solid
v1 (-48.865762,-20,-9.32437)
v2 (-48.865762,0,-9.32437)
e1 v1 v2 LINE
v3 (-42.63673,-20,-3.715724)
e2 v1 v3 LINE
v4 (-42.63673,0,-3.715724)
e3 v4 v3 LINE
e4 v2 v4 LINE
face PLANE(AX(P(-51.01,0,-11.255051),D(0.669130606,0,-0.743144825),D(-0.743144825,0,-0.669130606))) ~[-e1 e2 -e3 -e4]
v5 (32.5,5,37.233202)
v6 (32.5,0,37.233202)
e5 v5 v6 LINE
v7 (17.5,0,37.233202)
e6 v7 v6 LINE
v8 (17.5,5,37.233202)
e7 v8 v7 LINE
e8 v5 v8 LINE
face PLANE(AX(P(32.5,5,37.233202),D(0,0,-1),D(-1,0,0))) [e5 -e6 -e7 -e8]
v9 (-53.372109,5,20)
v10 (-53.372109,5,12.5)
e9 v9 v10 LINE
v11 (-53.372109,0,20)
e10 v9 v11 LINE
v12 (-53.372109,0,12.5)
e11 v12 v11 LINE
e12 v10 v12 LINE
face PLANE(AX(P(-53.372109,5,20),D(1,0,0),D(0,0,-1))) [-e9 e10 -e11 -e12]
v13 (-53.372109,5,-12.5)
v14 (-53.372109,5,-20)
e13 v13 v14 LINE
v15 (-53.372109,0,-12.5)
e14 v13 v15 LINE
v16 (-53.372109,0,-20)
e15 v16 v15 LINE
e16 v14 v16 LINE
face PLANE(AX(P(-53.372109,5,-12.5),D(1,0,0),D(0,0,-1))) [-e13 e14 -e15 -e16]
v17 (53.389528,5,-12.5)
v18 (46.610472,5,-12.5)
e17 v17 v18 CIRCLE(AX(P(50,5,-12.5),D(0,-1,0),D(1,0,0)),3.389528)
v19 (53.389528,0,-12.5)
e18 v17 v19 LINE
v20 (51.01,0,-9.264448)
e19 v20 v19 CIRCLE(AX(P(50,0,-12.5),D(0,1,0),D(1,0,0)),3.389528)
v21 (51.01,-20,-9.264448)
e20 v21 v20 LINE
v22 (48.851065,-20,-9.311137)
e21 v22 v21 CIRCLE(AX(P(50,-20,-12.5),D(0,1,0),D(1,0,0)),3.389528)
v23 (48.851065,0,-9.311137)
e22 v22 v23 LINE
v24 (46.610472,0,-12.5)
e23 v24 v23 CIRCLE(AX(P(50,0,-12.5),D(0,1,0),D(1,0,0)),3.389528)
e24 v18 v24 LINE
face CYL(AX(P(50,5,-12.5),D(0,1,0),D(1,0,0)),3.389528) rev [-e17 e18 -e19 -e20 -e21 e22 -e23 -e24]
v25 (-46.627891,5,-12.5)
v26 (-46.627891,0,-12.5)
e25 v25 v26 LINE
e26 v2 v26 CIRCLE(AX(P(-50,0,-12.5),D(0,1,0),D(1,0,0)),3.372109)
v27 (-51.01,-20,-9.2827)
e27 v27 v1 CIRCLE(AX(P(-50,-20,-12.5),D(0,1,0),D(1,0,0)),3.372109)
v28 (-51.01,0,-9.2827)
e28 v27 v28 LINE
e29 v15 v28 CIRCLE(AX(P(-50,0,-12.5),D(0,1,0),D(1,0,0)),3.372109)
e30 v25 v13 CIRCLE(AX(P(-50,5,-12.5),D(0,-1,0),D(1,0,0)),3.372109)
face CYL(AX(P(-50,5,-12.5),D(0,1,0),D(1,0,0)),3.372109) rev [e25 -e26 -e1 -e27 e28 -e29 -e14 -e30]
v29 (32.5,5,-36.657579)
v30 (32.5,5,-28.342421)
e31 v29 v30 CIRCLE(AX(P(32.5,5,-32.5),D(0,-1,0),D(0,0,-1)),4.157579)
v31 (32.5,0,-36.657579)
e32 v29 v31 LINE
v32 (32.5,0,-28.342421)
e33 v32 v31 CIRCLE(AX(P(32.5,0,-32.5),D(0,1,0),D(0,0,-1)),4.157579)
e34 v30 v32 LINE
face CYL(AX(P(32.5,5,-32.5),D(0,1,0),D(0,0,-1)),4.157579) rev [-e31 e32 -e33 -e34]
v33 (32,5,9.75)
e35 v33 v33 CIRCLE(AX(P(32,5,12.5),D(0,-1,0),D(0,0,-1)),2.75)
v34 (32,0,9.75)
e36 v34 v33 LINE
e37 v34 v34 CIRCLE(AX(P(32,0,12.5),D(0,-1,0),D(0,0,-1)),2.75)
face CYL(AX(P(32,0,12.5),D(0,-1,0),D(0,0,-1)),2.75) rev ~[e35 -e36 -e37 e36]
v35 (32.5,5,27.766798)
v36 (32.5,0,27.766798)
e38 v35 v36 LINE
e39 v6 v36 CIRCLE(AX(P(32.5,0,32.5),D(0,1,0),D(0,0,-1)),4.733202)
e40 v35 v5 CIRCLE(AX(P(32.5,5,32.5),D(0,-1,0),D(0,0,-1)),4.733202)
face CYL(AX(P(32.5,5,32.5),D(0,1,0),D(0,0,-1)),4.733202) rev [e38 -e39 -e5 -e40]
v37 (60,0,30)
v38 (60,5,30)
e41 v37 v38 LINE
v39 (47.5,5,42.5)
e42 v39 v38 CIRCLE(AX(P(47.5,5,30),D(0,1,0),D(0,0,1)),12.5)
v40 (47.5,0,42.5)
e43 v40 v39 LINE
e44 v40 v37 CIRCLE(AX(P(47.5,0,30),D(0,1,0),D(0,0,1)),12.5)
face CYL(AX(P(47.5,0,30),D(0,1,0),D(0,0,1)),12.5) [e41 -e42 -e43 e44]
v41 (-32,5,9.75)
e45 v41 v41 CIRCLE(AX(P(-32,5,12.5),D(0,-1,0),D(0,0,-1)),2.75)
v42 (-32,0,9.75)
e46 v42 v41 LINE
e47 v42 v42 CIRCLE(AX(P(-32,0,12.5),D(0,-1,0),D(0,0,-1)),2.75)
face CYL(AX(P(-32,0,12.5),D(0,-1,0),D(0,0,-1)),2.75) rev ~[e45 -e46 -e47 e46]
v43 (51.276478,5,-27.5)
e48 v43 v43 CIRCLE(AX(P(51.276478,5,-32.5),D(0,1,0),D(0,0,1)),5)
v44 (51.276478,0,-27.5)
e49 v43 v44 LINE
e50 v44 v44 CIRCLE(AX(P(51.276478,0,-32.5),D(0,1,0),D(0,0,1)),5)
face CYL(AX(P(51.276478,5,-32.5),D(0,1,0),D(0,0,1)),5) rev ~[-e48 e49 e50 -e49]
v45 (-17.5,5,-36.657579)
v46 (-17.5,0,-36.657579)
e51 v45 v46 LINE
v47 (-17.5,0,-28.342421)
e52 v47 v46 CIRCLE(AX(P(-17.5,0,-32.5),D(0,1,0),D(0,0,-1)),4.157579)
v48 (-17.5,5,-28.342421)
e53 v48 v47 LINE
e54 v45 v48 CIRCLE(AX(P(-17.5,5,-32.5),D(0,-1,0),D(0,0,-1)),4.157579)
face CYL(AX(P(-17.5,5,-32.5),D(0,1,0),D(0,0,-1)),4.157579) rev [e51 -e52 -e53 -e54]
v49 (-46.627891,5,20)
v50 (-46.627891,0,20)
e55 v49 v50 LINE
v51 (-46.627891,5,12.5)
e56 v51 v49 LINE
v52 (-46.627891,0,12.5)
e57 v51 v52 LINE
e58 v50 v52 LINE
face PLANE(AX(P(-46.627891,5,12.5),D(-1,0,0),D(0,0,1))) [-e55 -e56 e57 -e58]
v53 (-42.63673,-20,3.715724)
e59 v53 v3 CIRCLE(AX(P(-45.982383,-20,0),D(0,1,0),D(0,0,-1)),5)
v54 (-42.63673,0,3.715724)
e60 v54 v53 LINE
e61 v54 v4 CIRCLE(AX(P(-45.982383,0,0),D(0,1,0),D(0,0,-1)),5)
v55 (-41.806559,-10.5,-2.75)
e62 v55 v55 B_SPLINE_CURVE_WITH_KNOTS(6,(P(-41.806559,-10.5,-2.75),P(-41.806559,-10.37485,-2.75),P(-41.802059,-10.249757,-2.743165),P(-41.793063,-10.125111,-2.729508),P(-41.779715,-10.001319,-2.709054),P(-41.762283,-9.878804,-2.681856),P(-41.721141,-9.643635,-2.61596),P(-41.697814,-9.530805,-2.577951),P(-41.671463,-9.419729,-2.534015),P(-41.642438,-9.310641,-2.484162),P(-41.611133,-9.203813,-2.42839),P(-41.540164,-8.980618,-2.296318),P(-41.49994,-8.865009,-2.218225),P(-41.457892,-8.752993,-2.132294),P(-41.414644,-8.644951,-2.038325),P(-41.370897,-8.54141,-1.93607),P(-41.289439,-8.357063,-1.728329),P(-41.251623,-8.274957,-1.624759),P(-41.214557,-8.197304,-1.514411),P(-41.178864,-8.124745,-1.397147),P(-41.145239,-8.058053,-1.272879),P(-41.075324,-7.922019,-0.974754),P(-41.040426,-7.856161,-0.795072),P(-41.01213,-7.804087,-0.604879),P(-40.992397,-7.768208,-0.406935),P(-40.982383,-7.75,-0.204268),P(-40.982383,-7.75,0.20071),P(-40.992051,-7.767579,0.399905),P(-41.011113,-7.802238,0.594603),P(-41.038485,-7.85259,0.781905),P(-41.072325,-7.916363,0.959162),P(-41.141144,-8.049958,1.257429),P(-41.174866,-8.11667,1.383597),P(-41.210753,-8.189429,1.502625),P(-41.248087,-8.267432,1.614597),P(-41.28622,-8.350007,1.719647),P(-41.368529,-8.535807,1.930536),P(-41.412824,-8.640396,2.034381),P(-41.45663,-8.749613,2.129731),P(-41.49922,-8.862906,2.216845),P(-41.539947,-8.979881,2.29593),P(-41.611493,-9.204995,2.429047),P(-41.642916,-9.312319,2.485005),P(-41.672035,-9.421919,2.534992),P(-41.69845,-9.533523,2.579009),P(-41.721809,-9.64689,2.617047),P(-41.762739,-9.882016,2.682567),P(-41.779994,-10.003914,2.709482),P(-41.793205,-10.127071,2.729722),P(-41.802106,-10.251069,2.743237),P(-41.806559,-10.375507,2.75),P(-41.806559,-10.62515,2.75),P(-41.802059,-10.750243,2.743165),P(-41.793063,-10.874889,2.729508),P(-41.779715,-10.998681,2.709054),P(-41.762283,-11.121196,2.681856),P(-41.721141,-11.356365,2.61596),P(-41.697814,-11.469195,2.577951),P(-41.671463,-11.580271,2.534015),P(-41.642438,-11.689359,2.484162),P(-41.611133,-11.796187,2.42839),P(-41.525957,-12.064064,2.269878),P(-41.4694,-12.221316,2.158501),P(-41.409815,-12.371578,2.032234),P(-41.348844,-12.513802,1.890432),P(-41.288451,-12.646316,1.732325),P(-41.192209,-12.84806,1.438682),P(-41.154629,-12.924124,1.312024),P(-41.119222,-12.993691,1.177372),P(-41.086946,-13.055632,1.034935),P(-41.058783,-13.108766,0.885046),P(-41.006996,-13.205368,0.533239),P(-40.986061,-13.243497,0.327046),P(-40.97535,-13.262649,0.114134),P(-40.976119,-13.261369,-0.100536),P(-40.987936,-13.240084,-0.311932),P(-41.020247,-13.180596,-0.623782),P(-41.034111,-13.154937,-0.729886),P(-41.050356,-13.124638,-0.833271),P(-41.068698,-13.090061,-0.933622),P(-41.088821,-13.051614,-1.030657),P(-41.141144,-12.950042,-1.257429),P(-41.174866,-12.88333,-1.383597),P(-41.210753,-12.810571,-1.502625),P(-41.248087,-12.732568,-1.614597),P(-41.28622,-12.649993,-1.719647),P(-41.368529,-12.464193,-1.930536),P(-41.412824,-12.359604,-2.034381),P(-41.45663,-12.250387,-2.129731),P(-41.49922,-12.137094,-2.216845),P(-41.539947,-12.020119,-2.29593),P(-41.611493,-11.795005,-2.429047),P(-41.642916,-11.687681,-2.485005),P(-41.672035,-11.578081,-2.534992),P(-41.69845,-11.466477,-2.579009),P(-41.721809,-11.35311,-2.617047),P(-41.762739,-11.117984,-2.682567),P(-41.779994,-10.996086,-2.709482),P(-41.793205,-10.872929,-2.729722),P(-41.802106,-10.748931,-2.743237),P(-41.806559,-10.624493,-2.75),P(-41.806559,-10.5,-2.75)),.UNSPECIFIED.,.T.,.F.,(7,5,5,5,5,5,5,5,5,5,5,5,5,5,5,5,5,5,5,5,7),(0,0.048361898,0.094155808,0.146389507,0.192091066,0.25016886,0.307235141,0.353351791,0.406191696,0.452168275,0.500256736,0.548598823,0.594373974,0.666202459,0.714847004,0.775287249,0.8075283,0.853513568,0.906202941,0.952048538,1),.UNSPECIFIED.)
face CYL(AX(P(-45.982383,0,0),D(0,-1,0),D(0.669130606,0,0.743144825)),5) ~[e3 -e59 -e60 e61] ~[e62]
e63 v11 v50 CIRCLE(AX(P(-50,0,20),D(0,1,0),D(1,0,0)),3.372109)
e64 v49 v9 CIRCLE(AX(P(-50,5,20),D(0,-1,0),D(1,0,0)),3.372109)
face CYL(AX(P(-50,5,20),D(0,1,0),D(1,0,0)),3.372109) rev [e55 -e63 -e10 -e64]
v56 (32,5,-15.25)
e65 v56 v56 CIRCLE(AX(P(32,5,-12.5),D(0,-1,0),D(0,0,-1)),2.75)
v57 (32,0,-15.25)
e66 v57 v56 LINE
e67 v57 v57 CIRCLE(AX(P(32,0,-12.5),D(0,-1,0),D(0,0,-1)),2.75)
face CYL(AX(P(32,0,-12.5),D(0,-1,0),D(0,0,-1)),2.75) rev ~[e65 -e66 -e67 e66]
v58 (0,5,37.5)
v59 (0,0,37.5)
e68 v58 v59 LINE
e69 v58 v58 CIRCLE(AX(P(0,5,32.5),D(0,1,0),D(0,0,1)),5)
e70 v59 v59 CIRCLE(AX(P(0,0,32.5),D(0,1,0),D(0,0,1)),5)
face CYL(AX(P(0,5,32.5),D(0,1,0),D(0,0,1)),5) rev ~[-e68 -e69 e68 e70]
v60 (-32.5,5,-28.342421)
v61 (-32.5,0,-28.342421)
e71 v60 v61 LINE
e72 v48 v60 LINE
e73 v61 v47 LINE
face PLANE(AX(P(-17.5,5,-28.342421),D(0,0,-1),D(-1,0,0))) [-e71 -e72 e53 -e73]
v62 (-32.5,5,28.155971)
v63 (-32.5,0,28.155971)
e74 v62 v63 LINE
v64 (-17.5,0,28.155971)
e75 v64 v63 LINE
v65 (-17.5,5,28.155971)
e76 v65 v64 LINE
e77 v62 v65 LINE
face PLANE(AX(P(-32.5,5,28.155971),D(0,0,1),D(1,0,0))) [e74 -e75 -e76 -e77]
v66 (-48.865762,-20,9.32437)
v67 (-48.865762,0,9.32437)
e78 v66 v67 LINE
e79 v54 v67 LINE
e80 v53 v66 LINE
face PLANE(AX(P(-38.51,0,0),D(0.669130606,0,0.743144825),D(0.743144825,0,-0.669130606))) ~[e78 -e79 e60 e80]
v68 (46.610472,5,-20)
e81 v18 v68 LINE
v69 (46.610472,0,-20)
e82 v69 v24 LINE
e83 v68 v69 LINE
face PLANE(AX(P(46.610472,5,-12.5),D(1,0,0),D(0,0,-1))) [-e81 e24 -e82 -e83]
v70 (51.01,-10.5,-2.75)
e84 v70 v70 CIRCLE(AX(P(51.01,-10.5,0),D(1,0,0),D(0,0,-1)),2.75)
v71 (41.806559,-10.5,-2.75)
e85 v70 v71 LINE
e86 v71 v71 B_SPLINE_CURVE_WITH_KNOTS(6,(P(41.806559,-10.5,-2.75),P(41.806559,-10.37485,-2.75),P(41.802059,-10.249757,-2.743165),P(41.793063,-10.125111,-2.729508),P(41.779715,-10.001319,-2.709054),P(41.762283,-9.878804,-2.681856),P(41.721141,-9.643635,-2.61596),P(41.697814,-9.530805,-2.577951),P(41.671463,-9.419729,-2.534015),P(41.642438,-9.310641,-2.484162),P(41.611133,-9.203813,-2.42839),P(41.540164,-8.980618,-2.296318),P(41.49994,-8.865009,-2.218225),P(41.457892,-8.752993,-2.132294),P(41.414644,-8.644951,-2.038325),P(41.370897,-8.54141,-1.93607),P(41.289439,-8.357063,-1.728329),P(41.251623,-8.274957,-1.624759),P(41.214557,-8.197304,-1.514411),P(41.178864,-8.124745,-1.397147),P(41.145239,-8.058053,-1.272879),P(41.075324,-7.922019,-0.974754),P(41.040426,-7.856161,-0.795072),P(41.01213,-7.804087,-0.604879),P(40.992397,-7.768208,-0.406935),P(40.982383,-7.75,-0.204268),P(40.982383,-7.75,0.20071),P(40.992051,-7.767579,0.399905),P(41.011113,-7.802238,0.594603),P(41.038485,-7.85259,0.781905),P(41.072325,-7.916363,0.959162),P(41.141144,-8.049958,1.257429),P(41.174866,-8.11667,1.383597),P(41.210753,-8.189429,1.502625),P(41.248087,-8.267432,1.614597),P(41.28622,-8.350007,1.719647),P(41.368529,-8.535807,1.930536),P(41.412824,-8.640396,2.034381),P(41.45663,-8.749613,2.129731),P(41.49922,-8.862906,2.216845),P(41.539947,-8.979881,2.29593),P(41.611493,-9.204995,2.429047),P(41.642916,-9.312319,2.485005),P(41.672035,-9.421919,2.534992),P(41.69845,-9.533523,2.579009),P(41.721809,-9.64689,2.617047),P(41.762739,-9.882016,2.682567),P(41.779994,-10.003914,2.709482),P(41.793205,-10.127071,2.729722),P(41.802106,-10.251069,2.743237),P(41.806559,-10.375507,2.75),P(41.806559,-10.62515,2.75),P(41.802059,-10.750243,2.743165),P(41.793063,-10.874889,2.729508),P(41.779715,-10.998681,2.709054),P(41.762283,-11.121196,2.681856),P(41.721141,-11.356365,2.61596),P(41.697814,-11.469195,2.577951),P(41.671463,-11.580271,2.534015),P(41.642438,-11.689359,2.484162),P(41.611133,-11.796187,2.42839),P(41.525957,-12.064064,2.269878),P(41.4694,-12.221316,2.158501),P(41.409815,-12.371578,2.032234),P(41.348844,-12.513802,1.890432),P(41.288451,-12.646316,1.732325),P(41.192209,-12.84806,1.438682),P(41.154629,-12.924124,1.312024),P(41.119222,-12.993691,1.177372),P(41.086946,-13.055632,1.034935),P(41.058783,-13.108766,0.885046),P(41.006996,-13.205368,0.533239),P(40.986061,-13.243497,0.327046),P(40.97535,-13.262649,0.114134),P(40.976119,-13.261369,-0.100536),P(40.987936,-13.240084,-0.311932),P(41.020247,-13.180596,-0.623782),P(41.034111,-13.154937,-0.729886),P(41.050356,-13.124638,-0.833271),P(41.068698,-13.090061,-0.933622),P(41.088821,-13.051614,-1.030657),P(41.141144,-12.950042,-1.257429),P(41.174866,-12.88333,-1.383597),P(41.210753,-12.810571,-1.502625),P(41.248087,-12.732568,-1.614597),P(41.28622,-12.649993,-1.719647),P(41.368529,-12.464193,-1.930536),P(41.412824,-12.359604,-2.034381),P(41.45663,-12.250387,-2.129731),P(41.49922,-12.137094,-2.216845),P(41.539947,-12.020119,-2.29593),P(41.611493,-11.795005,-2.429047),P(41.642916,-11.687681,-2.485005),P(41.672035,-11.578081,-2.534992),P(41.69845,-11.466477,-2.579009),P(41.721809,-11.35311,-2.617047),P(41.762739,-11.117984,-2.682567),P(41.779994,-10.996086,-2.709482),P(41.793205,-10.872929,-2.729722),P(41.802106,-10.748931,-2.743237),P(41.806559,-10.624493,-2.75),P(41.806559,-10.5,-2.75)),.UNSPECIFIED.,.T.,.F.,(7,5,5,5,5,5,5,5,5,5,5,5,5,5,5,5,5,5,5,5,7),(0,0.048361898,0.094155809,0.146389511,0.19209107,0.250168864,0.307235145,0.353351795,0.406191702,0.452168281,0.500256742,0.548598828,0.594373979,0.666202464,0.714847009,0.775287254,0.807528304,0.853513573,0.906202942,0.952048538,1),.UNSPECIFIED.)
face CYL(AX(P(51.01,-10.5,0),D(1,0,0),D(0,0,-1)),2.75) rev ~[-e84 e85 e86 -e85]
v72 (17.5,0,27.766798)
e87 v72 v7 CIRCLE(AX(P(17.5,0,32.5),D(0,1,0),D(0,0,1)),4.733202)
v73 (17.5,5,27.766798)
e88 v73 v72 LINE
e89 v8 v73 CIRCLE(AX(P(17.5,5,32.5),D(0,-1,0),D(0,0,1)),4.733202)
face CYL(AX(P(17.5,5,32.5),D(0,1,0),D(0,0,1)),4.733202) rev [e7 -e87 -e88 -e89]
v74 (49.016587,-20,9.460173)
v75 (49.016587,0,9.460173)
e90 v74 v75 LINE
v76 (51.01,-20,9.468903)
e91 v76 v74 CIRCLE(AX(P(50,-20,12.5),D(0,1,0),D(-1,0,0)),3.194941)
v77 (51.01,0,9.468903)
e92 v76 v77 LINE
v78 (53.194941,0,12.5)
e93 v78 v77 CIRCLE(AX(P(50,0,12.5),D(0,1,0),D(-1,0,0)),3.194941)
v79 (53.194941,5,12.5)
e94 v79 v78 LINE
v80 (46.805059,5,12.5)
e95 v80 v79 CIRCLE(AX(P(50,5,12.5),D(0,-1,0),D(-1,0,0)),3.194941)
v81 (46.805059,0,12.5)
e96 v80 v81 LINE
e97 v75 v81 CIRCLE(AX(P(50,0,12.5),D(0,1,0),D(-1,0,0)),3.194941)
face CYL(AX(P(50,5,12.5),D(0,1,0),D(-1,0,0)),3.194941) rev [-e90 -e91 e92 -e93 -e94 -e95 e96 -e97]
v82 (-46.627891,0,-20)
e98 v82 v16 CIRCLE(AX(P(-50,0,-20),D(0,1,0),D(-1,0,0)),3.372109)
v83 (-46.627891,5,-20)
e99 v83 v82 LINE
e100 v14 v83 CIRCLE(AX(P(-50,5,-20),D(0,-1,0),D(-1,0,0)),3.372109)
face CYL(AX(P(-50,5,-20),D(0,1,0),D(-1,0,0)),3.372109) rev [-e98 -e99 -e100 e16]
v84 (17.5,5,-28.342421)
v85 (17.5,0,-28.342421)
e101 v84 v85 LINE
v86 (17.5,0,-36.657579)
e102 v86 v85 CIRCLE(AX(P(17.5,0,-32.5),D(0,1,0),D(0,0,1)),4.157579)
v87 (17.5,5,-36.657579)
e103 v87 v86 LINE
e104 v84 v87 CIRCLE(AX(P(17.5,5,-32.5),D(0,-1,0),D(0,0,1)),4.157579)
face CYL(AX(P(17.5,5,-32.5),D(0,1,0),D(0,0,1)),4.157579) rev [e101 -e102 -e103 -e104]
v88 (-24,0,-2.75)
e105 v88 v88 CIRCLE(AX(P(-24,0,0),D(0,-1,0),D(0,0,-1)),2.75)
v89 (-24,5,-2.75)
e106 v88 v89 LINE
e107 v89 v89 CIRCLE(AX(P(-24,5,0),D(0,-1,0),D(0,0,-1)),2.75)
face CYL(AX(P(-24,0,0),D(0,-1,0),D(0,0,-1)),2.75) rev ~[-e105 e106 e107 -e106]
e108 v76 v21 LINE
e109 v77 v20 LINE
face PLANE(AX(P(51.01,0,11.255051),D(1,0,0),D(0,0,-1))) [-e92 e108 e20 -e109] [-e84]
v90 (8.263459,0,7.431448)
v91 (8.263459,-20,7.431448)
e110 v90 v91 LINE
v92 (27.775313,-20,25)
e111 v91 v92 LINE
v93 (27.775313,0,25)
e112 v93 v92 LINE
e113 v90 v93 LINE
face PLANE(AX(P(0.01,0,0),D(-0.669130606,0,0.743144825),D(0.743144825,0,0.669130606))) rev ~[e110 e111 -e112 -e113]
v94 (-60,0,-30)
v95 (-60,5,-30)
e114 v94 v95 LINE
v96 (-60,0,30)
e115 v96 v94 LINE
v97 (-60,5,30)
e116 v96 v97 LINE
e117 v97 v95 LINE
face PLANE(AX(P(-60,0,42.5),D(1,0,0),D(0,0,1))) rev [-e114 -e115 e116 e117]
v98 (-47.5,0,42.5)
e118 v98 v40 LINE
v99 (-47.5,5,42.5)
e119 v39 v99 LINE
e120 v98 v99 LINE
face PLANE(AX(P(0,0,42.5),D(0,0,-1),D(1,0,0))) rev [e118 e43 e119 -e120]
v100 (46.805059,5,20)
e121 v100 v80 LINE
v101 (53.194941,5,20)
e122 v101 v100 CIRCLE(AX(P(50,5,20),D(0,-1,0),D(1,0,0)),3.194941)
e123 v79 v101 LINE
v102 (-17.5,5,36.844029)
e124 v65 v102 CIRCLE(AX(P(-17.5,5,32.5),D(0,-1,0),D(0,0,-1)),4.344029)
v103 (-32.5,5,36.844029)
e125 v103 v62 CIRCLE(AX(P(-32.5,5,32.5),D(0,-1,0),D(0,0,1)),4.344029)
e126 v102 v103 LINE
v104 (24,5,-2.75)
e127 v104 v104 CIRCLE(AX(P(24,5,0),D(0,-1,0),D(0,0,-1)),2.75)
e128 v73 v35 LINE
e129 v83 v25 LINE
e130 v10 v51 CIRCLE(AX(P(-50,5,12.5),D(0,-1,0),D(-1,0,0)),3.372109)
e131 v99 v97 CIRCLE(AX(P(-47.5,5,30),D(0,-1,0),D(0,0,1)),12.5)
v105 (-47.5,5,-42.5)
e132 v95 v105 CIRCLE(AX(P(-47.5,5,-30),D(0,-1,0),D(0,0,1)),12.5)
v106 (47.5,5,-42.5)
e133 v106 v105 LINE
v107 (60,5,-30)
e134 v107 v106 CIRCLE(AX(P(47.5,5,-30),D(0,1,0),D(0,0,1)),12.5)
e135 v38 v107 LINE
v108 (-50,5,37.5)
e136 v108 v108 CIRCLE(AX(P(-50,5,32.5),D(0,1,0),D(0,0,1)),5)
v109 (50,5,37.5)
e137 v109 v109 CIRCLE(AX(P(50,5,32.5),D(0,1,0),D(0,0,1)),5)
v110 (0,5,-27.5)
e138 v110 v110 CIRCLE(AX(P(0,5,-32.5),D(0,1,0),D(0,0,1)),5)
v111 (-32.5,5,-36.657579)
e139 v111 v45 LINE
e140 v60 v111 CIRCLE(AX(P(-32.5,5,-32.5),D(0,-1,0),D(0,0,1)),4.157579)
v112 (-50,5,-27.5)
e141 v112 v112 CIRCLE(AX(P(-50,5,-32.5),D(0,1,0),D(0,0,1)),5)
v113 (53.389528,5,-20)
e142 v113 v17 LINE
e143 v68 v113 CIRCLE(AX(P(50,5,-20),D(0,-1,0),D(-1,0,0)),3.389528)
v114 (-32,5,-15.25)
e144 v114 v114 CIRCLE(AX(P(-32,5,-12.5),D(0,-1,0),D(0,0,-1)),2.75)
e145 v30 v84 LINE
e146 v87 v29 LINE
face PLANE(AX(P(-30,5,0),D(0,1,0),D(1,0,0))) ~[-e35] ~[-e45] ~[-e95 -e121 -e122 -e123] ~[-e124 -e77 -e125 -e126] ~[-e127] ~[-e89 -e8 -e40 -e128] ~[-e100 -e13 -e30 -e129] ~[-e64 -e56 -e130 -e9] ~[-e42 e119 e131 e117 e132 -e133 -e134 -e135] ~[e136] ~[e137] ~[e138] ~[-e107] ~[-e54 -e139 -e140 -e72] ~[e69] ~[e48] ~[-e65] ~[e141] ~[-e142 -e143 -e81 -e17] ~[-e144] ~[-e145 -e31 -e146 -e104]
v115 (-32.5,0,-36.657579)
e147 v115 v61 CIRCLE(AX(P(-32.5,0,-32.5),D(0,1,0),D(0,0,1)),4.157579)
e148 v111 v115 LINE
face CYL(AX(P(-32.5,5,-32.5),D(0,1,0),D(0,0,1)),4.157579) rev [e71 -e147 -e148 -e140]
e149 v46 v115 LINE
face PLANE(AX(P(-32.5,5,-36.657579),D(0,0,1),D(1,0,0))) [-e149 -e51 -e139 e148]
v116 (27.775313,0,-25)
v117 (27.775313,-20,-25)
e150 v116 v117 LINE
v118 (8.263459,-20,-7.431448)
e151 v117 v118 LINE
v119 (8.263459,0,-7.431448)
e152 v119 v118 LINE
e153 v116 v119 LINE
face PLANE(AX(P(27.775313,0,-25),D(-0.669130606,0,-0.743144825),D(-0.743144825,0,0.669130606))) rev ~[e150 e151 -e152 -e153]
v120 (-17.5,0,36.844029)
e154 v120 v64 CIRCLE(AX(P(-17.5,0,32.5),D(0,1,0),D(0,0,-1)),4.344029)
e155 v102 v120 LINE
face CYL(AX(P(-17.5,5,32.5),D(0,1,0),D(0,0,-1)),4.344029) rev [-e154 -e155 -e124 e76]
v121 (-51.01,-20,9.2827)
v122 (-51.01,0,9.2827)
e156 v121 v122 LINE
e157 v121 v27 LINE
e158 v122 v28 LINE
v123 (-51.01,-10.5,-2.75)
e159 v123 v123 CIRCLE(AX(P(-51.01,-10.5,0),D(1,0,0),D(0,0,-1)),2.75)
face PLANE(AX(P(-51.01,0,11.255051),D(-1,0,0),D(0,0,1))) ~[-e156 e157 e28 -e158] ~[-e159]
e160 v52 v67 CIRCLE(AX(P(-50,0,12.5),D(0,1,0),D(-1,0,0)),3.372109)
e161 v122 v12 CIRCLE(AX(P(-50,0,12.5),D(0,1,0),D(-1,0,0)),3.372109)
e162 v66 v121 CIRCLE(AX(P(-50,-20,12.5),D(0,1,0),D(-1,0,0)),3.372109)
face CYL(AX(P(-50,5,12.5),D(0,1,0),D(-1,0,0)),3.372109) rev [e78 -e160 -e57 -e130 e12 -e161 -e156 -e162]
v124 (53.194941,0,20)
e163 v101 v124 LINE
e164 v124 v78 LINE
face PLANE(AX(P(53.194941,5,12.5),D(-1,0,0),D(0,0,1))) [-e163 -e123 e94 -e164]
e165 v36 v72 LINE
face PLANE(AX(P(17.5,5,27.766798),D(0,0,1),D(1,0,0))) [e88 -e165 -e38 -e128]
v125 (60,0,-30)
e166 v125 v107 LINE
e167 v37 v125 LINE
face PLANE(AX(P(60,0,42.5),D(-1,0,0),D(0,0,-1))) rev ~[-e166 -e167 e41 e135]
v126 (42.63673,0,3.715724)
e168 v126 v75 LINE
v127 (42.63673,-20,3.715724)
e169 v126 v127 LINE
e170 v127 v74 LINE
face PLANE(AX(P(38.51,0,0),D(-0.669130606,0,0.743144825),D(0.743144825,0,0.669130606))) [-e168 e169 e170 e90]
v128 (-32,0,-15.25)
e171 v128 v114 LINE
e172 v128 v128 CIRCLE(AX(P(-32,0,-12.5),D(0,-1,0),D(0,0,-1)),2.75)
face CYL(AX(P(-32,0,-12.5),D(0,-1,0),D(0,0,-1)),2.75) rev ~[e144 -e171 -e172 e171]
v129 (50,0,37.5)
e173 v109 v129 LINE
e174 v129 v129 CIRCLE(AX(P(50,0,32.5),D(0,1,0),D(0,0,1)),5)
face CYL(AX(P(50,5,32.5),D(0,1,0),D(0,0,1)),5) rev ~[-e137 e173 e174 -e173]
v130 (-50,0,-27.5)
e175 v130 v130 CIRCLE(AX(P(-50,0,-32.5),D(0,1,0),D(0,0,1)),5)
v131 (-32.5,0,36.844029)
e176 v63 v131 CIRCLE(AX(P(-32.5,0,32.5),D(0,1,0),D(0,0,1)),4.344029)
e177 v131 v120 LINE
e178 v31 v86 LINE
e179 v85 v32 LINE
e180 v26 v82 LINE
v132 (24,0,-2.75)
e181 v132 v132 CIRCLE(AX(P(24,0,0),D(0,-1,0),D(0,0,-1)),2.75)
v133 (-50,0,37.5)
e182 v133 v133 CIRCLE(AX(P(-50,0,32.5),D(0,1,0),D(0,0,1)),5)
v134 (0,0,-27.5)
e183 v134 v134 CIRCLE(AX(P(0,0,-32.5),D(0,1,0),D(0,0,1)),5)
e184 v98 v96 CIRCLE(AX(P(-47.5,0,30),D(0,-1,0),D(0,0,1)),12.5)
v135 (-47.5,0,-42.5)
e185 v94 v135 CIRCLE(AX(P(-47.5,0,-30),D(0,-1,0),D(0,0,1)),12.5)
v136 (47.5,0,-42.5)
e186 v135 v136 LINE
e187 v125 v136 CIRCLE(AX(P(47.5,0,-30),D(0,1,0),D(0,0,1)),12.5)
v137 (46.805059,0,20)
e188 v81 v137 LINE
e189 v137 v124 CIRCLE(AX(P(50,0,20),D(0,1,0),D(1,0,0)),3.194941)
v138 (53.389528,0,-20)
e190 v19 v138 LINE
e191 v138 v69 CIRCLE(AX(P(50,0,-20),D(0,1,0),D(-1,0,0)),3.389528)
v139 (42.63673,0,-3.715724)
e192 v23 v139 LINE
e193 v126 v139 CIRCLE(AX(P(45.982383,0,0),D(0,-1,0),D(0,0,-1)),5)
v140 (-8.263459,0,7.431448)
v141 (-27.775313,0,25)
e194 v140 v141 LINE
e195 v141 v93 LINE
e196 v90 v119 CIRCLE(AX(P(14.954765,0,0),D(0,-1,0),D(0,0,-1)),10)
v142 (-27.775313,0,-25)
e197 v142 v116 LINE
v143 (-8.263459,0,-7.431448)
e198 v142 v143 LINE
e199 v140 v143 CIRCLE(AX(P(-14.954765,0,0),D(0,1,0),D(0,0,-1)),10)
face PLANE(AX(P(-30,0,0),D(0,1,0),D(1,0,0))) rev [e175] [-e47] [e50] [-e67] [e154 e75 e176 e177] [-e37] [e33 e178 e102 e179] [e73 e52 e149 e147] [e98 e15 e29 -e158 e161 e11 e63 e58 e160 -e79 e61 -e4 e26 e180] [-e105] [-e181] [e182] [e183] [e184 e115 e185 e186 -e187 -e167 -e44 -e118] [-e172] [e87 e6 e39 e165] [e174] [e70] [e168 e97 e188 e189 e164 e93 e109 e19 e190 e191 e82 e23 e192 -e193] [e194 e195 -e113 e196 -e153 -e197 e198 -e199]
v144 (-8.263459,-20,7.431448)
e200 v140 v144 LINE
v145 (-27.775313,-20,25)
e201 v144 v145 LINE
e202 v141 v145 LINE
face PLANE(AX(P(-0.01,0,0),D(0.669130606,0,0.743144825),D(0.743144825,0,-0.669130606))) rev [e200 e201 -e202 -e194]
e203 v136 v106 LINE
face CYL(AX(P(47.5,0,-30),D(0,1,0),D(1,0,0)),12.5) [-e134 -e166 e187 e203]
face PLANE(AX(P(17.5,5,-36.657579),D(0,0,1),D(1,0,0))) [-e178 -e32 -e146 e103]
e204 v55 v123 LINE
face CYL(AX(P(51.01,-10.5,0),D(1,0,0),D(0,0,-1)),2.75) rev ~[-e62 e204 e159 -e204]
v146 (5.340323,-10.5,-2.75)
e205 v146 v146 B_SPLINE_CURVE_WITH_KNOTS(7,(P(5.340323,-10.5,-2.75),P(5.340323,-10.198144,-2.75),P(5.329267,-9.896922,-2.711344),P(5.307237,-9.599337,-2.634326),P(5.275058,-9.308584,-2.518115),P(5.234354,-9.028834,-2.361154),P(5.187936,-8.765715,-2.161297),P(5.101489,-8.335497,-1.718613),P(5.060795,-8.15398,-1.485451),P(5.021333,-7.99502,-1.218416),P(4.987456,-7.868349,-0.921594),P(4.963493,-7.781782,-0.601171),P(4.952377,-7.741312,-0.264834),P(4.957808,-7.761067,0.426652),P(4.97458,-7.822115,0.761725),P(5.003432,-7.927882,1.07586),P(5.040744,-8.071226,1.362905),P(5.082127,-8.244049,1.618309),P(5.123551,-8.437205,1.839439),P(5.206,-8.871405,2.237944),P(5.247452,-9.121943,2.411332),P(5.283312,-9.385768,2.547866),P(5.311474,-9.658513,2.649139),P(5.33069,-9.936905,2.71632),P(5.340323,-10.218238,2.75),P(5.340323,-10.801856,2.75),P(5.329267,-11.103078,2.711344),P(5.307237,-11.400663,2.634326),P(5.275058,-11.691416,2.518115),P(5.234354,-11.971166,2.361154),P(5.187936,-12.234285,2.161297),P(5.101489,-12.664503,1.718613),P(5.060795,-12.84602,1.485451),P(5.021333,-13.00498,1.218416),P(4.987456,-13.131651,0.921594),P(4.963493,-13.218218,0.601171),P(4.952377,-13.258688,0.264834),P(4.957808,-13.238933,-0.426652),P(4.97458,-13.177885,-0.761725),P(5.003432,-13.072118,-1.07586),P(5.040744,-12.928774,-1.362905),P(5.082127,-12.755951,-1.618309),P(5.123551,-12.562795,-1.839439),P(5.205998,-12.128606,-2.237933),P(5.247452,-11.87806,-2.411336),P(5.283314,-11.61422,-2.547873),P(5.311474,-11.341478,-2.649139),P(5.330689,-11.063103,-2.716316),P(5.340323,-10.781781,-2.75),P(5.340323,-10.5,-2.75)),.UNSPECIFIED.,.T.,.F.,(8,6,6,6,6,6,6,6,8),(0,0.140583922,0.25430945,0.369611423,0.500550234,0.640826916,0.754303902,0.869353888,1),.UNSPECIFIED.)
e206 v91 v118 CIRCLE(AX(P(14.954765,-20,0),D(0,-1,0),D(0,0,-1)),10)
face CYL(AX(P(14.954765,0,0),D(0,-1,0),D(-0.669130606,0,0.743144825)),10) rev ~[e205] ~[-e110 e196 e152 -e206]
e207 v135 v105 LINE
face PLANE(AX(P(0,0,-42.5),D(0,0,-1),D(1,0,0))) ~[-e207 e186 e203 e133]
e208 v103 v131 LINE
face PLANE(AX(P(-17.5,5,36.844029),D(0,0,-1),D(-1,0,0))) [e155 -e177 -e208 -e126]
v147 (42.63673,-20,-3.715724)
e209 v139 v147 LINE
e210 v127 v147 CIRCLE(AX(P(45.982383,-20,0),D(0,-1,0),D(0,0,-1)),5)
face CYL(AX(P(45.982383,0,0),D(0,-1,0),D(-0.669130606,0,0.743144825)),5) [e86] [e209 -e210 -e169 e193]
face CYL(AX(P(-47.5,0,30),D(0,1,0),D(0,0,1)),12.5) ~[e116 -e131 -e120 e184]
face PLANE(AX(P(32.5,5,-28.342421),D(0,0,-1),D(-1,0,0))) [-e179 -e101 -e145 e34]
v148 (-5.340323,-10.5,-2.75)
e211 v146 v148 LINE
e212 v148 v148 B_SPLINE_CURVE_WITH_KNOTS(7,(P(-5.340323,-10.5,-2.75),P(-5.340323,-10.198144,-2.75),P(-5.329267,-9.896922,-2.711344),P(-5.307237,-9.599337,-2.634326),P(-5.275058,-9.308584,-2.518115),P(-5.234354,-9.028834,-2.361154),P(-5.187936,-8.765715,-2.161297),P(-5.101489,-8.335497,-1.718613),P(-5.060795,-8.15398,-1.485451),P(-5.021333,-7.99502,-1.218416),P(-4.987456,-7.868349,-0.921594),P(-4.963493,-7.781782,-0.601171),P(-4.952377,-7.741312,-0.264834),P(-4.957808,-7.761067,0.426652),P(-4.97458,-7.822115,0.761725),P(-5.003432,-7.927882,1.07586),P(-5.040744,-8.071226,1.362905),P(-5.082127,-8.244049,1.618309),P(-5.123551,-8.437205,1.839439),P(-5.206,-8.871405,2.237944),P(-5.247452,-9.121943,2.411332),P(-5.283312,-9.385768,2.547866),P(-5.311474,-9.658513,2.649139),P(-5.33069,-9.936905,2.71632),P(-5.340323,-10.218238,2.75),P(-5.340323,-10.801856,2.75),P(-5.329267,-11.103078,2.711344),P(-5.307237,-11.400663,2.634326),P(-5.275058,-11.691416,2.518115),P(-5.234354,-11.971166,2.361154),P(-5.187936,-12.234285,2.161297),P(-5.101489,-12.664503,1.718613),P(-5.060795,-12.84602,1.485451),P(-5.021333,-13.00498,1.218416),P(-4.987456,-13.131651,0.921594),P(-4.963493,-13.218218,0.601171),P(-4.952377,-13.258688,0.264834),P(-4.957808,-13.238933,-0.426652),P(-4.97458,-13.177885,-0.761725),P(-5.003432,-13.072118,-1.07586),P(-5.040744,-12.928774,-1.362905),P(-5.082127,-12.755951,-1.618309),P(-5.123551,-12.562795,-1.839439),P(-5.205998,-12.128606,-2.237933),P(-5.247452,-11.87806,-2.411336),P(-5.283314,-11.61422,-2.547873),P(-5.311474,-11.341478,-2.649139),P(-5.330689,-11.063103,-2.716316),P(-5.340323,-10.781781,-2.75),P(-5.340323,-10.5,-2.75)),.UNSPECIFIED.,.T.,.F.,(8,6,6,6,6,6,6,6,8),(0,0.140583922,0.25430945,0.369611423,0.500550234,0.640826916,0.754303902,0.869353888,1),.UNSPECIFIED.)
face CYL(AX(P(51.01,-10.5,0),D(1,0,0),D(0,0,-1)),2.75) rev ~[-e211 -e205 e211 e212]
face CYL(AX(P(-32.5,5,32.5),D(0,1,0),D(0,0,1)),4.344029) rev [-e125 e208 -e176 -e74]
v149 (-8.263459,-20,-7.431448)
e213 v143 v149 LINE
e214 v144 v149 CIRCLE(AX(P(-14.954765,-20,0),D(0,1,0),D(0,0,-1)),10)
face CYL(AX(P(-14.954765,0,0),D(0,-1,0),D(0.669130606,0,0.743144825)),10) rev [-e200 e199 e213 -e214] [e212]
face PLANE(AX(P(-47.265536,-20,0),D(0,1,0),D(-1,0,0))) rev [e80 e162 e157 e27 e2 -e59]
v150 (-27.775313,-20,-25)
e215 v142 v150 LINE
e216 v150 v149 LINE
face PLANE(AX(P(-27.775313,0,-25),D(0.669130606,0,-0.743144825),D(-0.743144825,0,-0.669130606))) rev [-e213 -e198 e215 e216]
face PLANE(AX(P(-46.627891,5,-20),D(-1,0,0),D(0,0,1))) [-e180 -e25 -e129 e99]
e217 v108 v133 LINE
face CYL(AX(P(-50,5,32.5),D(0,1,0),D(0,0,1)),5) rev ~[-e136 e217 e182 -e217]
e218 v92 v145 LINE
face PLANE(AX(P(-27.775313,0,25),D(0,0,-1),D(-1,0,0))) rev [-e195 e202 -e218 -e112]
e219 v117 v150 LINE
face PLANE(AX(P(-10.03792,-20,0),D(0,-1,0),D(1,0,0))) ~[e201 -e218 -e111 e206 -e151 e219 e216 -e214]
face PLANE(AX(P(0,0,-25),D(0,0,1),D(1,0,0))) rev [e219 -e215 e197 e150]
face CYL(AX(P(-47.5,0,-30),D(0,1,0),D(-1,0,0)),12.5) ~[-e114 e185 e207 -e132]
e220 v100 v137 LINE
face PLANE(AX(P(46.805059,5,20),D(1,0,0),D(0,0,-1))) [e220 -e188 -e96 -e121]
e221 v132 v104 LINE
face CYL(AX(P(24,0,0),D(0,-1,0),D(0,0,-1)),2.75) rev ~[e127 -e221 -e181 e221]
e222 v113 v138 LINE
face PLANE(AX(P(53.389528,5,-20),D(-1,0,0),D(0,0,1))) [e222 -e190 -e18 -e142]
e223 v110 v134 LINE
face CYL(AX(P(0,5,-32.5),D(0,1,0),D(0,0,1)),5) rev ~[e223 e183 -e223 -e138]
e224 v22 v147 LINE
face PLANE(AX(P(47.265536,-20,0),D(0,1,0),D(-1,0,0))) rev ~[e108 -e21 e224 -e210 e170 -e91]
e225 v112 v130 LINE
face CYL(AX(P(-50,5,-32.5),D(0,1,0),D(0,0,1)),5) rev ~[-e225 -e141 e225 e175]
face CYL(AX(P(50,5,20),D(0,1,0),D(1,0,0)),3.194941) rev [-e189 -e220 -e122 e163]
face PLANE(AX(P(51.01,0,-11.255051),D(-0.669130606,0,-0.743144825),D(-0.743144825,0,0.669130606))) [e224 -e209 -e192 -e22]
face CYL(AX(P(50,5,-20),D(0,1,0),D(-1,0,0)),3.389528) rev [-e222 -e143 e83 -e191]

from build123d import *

# Parameters (mm, degrees)
SKETCH2_W            = 60
SKETCH2_H            = 85
BOSS_EXTRUDE1_DEPTH  = 5
BOSS_EXTRUDE2_DEPTH  = 20
BOSS_EXTRUDE3_DEPTH  = 20
FILLET1_R            = 10
FILLET2_R            = 5
FILLET3_R            = 12.5
FILLET1_OF_MIRROR1_R = 10
FILLET2_OF_MIRROR1_R = 5
FILLET3_OF_MIRROR1_R = 12.5
SKETCH4_R            = 5
CUT_EXTRUDE1_DEPTH   = 78.661122835
SKETCH5_R            = 2.75
CUT_EXTRUDE2_DEPTH   = 121.538251605
SKETCH6_R            = 2.75
CUT_EXTRUDE3_DEPTH   = 10


with BuildPart() as part:
    # Sketch2 → Boss-Extrude1 (new body)
    with BuildSketch(Plane(origin=(0, 0, 0), x_dir=(1, 0, 0), z_dir=(0, 1, 0))):
        with Locations((30, 0)):
            Rectangle(SKETCH2_W, SKETCH2_H)
    boss_extrude1 = extrude(amount=BOSS_EXTRUDE1_DEPTH)

    # Sketch3 → Boss-Extrude2 (add)
    with BuildSketch(Plane.XZ):
        Polygon((0, 25), (0, -25), (27.775312871, -25), (0.01, 0), (27.775312871, 25), align=None)
        Polygon((38.51, 0), (51.01, 11.255050554), (51.01, -11.255050554), align=None)
    boss_extrude2 = extrude(amount=BOSS_EXTRUDE2_DEPTH)

    # Sketch3<2> → Boss-Extrude3 (add)
    with BuildSketch(Plane.XZ):
        Polygon((0, 25), (0, -25), (27.775312871, -25), (0.01, 0), (27.775312871, 25), align=None)
        Polygon((38.51, 0), (51.01, 11.255050554), (51.01, -11.255050554), align=None)
    boss_extrude3 = extrude(amount=BOSS_EXTRUDE3_DEPTH)

    # Fillet1
    fillet1_edges = [part.edges().sort_by_distance(p)[0] for p in [
        (0.01, -10, 0),
    ]]
    fillet(fillet1_edges, radius=FILLET1_R)

    # Fillet2
    fillet2_edges = [part.edges().sort_by_distance(p)[0] for p in [
        (38.51, -10, 0),
    ]]
    fillet(fillet2_edges, radius=FILLET2_R)

    # Fillet3
    fillet3_edges = [part.edges().sort_by_distance(p)[0] for p in [
        (60, 2.5, 42.5),
        (60, 2.5, -42.5),
    ]]
    fillet(fillet3_edges, radius=FILLET3_R)

    # Mirror1: Boss-Extrude1, Boss-Extrude2, Boss-Extrude3 across plane
    add(boss_extrude1.mirror(Plane(origin=(0, 0, 0), x_dir=(0, 0, 1), z_dir=(1, 0, 0))))
    add(boss_extrude2.mirror(Plane(origin=(0, 0, 0), x_dir=(0, 0, 1), z_dir=(1, 0, 0))))
    add(boss_extrude3.mirror(Plane(origin=(0, 0, 0), x_dir=(0, 0, 1), z_dir=(1, 0, 0))))

    # Fillet1 of Mirror1
    fillet1_of_mirror1_edges = [part.edges().sort_by_distance(p)[0] for p in [
        (-0.01, -10, 0),
    ]]
    fillet(fillet1_of_mirror1_edges, radius=FILLET1_OF_MIRROR1_R)

    # Fillet2 of Mirror1
    fillet2_of_mirror1_edges = [part.edges().sort_by_distance(p)[0] for p in [
        (-38.51, -10, 0),
    ]]
    fillet(fillet2_of_mirror1_edges, radius=FILLET2_OF_MIRROR1_R)

    # Fillet3 of Mirror1
    fillet3_of_mirror1_edges = [part.edges().sort_by_distance(p)[0] for p in [
        (-60, 2.5, 42.5),
        (-60, 2.5, -42.5),
    ]]
    fillet(fillet3_of_mirror1_edges, radius=FILLET3_OF_MIRROR1_R)

    # Sketch4 → Cut-Extrude1 (cut, through all)
    with BuildSketch(Plane(origin=(0, 5, 0), x_dir=(1, 0, 0), z_dir=(0, 1, 0))):
        with Locations((-50, 32.5)):
            Circle(SKETCH4_R)
        with Locations((0, 32.5)):
            Circle(SKETCH4_R)
        with Locations((51.276477942, 32.5)):
            Circle(SKETCH4_R)
        with Locations((50, -32.5)):
            Circle(SKETCH4_R)
        with Locations((0, -32.5)):
            Circle(SKETCH4_R)
        with Locations((-50, -32.5)):
            Circle(SKETCH4_R)
        with BuildLine():
            Line((-32.5, 36.657579216), (-17.5, 36.657579216))
            ThreePointArc((-17.5, 36.657579216), (-13.342420784, 32.5), (-17.5, 28.342420784))
            Line((-17.5, 28.342420784), (-32.5, 28.342420784))
            ThreePointArc((-32.5, 28.342420784), (-36.657579216, 32.5), (-32.5, 36.657579216))
        make_face()
        with BuildLine():
            Line((17.5, 36.657579216), (32.5, 36.657579216))
            ThreePointArc((32.5, 36.657579216), (36.657579216, 32.5), (32.5, 28.342420784))
            Line((32.5, 28.342420784), (17.5, 28.342420784))
            ThreePointArc((17.5, 28.342420784), (13.342420784, 32.5), (17.5, 36.657579216))
        make_face()
        with BuildLine():
            Line((17.5, -27.766798153), (32.5, -27.766798153))
            ThreePointArc((32.5, -27.766798153), (37.233201847, -32.5), (32.5, -37.233201847))
            Line((32.5, -37.233201847), (17.5, -37.233201847))
            ThreePointArc((17.5, -37.233201847), (12.766798153, -32.5), (17.5, -27.766798153))
        make_face()
        with BuildLine():
            Line((-32.5, -28.155970988), (-17.5, -28.155970988))
            ThreePointArc((-17.5, -28.155970988), (-13.155970988, -32.5), (-17.5, -36.844029012))
            Line((-17.5, -36.844029012), (-32.5, -36.844029012))
            ThreePointArc((-32.5, -36.844029012), (-36.844029012, -32.5), (-32.5, -28.155970988))
        make_face()
        with BuildLine():
            Line((46.805058654, -20), (46.805058654, -12.5))
            ThreePointArc((46.805058654, -12.5), (50, -9.305058654), (53.194941346, -12.5))
            Line((53.194941346, -12.5), (53.194941346, -20))
            ThreePointArc((53.194941346, -20), (50, -23.194941346), (46.805058654, -20))
        make_face()
        with BuildLine():
            Line((53.389527763, 20), (53.389527763, 12.5))
            ThreePointArc((53.389527763, 12.5), (50, 9.110472237), (46.610472237, 12.5))
            Line((46.610472237, 12.5), (46.610472237, 20))
            ThreePointArc((46.610472237, 20), (50, 23.389527763), (53.389527763, 20))
        make_face()
        with BuildLine():
            Line((-46.62789073, 20), (-46.62789073, 12.5))
            ThreePointArc((-46.62789073, 12.5), (-50, 9.12789073), (-53.37210927, 12.5))
            Line((-53.37210927, 12.5), (-53.37210927, 20))
            ThreePointArc((-53.37210927, 20), (-50, 23.37210927), (-46.62789073, 20))
        make_face()
        with BuildLine():
            Line((-46.62789073, -12.5), (-46.62789073, -20))
            ThreePointArc((-46.62789073, -20), (-50, -23.37210927), (-53.37210927, -20))
            Line((-53.37210927, -20), (-53.37210927, -12.5))
            ThreePointArc((-53.37210927, -12.5), (-50, -9.12789073), (-46.62789073, -12.5))
        make_face()
    extrude(amount=-CUT_EXTRUDE1_DEPTH, mode=Mode.SUBTRACT)

    # Sketch5 → Cut-Extrude2 (cut, through all)
    with BuildSketch(Plane(origin=(51.01, 0, 0), x_dir=(0, 0, -1), z_dir=(1, 0, 0))):
        with Locations((0, -10.5)):
            Circle(SKETCH5_R)
    extrude(amount=-CUT_EXTRUDE2_DEPTH, mode=Mode.SUBTRACT)

    # Sketch6 → Cut-Extrude3 (cut)
    with BuildSketch(Plane.XZ):
        with Locations((32, 12.5)):
            Circle(SKETCH6_R)
        with Locations((24, 0)):
            Circle(SKETCH6_R)
        with Locations((32, -12.5)):
            Circle(SKETCH6_R)
        with Locations((-32, 12.5)):
            Circle(SKETCH6_R)
        with Locations((-24, 0)):
            Circle(SKETCH6_R)
        with Locations((-32, -12.5)):
            Circle(SKETCH6_R)
    extrude(amount=-CUT_EXTRUDE3_DEPTH, mode=Mode.SUBTRACT)


solid = part.part
